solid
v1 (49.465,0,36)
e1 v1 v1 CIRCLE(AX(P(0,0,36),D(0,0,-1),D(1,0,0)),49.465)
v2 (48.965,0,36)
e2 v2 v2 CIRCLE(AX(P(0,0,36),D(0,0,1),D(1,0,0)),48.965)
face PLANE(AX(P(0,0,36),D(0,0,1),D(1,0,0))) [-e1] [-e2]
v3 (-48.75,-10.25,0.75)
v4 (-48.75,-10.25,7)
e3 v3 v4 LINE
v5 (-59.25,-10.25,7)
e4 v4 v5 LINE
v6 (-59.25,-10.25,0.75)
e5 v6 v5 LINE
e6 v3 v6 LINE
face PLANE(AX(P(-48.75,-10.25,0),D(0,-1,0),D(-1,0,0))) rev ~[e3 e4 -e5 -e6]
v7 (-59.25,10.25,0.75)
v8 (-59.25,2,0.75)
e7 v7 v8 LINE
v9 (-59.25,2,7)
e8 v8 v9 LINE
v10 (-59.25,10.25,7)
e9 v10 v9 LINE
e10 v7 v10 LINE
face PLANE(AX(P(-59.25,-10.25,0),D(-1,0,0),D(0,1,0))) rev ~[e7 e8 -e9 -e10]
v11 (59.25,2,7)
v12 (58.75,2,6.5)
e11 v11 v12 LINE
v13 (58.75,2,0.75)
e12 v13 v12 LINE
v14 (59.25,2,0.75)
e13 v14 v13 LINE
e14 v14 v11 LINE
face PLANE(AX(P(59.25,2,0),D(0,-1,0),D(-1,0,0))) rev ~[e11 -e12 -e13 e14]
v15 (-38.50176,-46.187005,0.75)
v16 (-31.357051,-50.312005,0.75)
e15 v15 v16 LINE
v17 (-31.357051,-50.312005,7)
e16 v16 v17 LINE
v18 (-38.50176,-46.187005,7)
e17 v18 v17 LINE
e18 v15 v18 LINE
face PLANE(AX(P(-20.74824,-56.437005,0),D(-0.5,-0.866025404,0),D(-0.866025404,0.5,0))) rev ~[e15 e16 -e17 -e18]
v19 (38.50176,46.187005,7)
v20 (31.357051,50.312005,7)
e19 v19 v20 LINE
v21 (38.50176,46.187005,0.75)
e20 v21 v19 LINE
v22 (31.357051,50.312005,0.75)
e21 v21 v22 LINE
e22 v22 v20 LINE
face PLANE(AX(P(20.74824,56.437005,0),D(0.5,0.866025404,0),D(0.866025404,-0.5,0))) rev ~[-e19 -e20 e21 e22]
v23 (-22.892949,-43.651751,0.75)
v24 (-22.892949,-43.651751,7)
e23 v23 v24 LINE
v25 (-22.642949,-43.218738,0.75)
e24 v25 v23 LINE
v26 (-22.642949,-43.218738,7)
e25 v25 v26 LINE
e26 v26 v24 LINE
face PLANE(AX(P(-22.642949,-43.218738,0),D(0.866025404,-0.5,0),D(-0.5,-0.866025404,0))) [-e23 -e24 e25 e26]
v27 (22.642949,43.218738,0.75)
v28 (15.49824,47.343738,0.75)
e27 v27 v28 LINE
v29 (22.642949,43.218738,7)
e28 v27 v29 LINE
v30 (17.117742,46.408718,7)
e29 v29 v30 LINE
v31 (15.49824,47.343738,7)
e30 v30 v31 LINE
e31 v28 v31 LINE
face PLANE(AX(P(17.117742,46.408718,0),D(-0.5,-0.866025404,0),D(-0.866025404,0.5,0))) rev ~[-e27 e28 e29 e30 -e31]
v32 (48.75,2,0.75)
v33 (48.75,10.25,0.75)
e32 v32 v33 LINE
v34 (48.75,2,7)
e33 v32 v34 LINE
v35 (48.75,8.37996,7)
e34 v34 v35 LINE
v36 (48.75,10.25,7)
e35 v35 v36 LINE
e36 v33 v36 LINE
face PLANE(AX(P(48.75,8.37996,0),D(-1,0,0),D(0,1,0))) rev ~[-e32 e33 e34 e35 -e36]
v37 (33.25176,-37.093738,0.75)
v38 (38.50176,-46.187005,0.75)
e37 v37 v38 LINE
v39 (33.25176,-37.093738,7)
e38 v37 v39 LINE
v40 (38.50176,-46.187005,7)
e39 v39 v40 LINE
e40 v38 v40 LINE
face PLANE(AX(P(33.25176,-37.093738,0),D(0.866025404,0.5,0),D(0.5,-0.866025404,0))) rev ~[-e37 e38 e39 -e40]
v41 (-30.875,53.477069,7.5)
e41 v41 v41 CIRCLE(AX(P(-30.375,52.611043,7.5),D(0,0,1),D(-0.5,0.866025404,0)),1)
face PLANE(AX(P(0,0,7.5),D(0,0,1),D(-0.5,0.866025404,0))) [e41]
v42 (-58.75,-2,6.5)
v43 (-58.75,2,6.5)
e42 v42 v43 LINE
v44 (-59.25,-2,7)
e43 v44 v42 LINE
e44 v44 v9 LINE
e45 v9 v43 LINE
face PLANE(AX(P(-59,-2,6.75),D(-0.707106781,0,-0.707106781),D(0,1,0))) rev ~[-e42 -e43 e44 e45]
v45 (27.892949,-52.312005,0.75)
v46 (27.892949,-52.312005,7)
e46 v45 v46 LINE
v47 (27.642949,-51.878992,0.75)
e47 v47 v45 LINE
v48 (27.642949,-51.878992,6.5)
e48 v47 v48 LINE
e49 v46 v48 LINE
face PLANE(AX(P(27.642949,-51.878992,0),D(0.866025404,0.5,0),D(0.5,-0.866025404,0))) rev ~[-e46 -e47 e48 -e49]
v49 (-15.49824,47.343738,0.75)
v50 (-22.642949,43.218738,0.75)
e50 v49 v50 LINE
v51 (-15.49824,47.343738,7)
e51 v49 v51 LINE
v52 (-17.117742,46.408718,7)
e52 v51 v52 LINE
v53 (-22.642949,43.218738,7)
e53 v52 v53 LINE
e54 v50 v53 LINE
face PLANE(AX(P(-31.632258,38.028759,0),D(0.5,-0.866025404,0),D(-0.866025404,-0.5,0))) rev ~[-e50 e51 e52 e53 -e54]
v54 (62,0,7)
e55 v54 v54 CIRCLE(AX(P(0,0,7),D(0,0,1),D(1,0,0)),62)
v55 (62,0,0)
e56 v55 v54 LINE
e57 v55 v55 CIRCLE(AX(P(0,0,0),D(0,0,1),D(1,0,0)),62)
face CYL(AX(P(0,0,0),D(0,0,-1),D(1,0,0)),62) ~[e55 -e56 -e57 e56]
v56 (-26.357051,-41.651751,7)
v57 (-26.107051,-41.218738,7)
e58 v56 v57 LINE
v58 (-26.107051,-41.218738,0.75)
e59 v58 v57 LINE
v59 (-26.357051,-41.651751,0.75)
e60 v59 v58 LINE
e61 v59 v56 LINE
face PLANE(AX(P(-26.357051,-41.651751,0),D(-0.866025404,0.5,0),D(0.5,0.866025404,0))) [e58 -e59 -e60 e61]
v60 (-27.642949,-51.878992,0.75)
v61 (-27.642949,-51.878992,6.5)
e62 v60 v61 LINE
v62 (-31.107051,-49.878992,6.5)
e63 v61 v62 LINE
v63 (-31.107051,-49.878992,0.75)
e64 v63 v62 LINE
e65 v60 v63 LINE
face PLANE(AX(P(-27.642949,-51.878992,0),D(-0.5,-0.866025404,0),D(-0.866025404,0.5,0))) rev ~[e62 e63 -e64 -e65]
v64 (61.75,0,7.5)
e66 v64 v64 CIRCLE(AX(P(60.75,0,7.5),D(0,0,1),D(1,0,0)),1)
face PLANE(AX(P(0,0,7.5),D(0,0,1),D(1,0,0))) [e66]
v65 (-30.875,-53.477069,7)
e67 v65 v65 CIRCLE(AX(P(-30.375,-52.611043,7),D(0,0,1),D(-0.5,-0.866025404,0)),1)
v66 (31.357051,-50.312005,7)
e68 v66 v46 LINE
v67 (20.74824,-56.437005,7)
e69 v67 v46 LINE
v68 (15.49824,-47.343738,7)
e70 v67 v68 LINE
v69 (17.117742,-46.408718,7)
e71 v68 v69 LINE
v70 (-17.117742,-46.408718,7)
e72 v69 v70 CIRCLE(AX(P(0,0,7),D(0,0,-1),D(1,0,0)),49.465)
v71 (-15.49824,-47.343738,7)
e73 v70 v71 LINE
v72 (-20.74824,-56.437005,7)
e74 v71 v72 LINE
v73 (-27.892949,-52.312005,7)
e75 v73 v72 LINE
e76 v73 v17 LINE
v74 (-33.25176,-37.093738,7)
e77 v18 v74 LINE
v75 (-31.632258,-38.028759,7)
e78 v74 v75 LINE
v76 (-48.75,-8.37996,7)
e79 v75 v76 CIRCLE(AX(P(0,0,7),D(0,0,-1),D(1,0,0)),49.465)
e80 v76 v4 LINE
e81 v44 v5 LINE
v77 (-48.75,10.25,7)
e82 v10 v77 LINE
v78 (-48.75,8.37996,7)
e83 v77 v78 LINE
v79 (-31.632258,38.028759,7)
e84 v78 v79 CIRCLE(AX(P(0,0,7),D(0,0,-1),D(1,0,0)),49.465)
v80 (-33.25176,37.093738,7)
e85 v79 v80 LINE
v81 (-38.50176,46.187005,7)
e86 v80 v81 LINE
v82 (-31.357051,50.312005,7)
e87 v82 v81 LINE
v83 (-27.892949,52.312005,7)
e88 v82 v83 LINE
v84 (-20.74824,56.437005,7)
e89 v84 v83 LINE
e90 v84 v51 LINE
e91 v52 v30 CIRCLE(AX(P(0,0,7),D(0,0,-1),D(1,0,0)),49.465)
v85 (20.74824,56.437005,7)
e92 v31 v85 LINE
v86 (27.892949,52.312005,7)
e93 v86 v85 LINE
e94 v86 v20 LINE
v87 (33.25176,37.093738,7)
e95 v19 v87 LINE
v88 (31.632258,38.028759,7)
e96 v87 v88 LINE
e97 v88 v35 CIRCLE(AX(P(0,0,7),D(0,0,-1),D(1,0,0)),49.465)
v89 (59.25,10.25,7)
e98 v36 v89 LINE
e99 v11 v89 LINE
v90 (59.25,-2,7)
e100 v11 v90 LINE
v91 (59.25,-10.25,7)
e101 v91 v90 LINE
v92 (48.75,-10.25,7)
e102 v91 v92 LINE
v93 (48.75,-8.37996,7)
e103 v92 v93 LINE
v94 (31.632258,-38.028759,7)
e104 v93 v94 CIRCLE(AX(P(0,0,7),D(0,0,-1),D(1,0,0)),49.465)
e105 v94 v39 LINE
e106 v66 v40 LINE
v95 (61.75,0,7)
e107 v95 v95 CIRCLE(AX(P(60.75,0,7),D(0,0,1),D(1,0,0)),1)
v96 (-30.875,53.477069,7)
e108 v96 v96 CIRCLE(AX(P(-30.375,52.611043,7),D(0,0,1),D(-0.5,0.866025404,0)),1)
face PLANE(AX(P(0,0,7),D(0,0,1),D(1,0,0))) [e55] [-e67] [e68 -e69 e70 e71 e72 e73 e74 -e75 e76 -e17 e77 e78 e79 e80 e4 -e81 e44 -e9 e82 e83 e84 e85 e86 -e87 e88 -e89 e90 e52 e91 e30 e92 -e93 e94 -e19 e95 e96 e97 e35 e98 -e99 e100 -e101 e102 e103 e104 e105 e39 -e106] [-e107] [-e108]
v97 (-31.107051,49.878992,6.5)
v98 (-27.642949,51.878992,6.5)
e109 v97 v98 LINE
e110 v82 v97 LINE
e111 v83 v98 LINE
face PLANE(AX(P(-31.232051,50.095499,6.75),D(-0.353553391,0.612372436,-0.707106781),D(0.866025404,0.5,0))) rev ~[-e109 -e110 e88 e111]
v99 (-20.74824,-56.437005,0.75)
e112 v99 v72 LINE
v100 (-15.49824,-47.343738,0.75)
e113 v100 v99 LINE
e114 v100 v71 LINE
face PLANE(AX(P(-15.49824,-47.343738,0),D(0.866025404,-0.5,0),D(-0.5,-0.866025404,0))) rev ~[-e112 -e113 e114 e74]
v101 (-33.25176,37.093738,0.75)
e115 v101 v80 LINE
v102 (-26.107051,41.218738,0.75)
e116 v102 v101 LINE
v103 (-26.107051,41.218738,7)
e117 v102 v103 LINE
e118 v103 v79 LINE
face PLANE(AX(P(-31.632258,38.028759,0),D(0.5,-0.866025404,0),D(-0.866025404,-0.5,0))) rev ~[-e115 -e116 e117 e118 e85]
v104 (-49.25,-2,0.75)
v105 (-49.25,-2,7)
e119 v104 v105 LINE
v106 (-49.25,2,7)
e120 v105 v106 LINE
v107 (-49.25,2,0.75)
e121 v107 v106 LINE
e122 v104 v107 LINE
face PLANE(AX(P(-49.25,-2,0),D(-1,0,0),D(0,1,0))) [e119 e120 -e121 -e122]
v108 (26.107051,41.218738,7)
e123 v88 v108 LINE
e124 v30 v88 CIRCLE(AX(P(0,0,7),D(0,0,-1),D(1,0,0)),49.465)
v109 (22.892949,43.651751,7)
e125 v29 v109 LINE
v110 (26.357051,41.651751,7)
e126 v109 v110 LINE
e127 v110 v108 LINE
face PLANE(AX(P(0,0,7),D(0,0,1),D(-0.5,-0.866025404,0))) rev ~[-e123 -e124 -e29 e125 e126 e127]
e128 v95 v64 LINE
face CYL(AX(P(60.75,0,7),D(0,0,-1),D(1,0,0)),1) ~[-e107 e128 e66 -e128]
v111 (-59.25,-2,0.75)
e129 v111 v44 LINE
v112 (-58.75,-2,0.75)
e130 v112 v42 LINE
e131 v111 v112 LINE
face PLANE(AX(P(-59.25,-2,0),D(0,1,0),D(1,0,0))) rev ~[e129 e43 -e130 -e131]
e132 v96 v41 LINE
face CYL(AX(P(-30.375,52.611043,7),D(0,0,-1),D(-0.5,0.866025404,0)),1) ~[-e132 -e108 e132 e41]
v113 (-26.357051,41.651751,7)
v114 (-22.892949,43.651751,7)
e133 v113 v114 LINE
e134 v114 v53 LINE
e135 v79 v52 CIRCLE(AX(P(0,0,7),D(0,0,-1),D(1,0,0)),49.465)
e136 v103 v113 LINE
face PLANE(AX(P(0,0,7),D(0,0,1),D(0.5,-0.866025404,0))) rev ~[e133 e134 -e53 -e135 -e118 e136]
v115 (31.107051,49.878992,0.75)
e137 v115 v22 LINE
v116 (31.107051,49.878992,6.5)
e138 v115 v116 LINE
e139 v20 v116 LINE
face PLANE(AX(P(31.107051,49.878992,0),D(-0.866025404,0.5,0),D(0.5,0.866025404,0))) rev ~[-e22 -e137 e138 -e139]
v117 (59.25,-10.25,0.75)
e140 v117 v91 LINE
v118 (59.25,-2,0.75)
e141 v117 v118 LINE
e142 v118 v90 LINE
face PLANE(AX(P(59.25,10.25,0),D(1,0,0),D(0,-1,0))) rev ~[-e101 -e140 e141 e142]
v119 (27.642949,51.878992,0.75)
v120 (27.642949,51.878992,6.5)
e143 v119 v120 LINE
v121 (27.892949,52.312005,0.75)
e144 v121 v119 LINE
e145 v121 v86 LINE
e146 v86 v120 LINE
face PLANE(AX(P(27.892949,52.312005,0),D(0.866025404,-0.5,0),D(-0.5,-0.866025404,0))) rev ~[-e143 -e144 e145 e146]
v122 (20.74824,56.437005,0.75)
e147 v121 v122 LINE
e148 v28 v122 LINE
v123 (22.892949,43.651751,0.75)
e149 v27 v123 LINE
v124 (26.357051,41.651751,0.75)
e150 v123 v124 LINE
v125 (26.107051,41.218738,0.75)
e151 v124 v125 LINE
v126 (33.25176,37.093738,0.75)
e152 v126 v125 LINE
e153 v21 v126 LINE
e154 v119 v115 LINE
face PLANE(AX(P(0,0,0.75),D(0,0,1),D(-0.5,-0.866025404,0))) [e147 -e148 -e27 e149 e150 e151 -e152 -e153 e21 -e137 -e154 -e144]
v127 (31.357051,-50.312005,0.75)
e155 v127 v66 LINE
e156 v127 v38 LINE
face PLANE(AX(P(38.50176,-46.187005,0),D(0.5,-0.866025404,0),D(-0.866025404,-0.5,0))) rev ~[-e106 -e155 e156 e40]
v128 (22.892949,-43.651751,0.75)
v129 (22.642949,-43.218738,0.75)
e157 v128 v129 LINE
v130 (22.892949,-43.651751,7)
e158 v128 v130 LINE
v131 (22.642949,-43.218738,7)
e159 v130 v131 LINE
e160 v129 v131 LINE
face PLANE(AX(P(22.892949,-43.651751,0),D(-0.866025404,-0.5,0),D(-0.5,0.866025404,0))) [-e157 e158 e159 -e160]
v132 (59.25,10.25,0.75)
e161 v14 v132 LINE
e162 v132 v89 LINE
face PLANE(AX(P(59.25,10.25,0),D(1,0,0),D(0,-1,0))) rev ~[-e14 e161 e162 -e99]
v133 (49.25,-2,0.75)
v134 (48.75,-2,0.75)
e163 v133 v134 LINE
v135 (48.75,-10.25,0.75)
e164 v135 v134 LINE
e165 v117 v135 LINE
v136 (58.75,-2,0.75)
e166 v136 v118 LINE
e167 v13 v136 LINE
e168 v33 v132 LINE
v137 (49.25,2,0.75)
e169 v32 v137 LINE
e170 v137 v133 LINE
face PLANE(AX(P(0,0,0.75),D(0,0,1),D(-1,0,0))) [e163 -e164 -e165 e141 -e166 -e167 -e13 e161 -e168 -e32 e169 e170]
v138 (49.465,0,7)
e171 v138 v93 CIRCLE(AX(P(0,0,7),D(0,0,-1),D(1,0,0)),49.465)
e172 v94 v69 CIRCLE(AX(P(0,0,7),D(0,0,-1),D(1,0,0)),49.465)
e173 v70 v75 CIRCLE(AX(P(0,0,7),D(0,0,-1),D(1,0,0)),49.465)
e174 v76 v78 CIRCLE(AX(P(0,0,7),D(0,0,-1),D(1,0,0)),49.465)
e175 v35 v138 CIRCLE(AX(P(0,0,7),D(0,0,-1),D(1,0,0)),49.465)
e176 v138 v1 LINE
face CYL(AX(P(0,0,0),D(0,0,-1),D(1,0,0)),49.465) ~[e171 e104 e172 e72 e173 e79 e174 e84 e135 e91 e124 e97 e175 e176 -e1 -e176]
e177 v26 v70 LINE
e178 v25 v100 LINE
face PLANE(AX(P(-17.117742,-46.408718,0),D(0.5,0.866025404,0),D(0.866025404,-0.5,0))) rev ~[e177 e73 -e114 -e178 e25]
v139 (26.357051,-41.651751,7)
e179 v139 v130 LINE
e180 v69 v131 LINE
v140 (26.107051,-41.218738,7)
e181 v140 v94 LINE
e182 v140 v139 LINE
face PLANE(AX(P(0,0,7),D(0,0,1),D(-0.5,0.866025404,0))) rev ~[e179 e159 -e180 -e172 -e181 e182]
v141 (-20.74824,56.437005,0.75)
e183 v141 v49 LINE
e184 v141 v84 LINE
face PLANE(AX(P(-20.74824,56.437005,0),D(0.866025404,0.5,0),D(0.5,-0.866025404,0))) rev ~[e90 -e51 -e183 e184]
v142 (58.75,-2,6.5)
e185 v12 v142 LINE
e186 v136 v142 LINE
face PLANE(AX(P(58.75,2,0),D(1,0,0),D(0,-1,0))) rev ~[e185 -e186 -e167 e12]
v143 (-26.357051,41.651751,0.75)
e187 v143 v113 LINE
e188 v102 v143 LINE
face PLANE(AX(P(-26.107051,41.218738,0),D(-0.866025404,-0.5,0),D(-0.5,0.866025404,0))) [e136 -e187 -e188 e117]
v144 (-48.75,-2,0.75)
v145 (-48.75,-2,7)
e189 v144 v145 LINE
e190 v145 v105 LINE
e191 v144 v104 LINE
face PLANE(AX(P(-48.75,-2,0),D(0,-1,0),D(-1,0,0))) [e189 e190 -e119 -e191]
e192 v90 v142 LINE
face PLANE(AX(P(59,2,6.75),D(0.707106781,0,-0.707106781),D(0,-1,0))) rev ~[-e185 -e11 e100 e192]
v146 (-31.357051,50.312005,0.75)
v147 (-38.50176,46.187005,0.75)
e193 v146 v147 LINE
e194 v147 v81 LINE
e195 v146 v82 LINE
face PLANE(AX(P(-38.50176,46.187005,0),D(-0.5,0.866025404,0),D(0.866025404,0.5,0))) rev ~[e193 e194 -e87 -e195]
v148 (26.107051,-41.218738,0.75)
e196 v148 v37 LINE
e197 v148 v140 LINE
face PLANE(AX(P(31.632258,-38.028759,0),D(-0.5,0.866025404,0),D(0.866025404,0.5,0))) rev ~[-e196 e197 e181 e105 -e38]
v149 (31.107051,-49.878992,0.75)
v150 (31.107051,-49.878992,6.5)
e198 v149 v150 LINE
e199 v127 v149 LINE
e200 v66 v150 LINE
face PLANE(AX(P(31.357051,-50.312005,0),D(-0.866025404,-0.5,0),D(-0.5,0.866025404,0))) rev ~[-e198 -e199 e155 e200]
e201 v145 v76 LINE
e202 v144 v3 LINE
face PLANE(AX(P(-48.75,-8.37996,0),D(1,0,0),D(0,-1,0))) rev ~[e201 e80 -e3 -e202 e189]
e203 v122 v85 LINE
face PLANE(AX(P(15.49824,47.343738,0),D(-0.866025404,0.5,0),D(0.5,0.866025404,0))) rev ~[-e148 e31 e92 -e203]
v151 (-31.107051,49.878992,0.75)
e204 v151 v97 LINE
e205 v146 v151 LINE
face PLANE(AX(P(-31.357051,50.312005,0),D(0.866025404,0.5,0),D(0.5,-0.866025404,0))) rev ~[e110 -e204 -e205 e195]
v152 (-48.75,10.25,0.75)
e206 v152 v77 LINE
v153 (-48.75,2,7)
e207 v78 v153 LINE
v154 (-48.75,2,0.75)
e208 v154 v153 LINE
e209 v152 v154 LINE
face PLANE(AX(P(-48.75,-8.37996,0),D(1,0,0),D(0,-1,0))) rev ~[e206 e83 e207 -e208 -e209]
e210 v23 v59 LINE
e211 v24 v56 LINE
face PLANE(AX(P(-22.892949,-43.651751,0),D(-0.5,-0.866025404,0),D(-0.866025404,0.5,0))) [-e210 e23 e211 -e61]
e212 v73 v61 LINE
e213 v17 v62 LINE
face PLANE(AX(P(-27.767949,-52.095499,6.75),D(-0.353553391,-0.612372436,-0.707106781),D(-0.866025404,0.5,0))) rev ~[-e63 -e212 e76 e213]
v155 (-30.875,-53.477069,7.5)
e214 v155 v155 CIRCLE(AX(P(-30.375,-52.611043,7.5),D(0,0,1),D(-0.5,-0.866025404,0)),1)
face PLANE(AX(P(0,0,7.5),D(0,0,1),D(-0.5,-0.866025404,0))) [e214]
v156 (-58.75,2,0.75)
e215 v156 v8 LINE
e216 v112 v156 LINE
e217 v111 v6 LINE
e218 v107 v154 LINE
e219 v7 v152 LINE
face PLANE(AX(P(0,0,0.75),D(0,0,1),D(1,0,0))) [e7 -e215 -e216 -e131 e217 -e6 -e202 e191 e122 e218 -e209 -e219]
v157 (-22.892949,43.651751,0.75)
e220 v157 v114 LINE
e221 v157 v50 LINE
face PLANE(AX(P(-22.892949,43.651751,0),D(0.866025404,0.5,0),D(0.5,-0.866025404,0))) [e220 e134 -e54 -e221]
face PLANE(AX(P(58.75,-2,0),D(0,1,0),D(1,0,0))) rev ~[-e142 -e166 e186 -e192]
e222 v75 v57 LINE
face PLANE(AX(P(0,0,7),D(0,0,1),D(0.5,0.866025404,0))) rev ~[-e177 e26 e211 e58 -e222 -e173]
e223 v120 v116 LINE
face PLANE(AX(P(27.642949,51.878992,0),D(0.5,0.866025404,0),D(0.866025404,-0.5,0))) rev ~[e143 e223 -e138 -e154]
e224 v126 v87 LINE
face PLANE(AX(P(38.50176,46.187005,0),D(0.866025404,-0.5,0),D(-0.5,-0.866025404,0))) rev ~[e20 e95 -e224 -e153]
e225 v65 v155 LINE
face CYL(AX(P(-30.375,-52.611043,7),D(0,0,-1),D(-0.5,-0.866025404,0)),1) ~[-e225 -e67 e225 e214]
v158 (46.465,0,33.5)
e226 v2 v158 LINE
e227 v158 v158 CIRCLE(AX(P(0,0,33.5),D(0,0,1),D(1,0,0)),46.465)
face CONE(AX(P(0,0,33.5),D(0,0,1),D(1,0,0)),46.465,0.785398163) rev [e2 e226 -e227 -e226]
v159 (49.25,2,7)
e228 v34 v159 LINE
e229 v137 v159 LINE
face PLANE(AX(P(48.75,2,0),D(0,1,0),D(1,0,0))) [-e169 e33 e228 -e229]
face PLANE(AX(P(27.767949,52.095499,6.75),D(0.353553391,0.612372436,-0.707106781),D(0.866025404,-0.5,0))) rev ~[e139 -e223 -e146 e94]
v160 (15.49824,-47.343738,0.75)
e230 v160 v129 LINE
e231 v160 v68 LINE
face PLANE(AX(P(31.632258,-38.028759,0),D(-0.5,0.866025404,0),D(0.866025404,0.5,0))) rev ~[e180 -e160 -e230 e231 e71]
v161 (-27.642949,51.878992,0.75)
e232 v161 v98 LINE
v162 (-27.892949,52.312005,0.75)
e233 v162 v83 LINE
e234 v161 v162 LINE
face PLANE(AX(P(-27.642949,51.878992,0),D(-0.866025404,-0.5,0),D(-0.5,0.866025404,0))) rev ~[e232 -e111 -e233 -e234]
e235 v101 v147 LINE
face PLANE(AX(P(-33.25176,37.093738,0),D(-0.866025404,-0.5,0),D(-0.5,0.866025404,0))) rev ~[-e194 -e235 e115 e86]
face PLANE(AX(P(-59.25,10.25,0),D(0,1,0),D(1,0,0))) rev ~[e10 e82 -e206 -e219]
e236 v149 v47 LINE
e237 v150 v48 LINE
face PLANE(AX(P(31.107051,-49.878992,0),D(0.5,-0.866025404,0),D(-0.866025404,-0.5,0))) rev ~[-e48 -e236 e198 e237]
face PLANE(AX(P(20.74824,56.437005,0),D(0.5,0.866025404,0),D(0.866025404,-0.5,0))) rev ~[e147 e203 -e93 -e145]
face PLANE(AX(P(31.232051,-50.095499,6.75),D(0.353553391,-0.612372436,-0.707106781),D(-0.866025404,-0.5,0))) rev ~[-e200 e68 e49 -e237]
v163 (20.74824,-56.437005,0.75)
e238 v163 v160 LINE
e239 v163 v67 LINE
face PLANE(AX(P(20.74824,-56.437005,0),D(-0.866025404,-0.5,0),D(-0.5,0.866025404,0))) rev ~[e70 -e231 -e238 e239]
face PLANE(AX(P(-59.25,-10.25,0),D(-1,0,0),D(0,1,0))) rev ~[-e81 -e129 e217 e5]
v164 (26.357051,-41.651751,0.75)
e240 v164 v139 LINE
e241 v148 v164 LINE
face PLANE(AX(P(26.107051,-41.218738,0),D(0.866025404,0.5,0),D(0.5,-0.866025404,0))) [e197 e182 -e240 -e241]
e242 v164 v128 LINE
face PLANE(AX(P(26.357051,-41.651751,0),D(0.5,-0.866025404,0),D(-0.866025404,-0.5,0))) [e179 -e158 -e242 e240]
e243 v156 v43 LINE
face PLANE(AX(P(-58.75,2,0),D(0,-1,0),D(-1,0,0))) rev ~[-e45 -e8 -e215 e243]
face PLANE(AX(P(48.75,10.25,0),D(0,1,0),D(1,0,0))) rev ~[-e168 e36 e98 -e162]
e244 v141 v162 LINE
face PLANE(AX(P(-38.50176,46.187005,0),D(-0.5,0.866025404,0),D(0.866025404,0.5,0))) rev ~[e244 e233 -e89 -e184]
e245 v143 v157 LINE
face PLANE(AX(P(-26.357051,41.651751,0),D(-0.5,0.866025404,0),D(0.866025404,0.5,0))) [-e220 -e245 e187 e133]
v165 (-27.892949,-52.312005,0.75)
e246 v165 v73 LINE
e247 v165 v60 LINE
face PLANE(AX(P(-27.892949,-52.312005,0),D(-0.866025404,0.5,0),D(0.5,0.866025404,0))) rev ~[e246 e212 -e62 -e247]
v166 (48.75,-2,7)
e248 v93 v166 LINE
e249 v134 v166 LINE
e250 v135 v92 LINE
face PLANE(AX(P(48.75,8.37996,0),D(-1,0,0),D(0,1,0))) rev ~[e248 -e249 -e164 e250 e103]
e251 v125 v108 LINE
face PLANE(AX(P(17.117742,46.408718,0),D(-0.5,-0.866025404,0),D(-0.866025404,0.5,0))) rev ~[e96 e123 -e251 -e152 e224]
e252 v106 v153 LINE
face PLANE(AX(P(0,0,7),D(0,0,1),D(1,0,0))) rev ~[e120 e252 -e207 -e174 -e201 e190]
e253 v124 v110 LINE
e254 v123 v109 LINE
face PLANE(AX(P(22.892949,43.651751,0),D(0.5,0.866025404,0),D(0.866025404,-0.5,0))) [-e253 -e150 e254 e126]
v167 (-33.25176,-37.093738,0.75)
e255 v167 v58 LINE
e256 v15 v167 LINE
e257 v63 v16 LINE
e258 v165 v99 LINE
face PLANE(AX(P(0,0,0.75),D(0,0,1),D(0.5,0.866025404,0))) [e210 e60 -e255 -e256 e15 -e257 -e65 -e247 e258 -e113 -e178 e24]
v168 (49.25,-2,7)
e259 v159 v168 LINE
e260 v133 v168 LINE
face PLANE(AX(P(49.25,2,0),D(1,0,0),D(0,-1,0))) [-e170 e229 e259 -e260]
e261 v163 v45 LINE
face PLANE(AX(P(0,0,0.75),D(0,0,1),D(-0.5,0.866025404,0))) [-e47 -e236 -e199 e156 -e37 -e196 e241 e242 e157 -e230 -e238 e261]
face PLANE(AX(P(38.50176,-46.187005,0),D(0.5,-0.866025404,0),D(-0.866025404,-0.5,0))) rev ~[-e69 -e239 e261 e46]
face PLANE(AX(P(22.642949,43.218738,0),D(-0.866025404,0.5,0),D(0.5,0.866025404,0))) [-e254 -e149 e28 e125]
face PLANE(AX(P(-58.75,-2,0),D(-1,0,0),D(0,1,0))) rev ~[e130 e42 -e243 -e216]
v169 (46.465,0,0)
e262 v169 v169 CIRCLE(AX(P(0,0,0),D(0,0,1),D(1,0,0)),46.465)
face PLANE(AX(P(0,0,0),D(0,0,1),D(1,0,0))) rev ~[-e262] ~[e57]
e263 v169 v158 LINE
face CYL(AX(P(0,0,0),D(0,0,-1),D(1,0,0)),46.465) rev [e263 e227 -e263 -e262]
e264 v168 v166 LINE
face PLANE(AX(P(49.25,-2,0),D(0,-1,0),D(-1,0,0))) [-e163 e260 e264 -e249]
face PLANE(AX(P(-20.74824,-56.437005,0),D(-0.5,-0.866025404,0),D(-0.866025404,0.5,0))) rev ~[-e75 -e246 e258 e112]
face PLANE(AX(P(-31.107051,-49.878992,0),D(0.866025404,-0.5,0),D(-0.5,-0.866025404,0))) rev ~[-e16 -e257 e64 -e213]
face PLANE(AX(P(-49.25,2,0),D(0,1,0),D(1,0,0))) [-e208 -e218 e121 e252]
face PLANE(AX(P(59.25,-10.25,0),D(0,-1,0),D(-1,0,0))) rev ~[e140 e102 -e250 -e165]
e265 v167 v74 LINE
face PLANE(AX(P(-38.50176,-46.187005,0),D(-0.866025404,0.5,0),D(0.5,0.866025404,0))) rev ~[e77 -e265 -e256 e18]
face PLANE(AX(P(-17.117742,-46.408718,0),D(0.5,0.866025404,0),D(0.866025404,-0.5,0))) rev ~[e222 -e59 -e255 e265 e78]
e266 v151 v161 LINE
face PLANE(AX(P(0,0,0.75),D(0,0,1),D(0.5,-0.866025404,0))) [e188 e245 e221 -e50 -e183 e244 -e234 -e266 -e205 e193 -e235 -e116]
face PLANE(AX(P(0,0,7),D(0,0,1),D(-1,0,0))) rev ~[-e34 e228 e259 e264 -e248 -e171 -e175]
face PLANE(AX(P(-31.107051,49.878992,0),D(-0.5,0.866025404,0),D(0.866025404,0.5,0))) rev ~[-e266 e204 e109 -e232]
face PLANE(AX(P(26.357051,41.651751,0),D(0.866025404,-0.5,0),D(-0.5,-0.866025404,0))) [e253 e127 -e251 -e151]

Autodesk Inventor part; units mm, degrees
ref_plane "YZ Plane" through (0, 0, 0) normal (1, 0, 0) x (0, 1, 0)
ref_plane "XZ Plane" through (0, 0, 0) normal (0, 1, 0) x (-1, 0, 0)
ref_plane "XY Plane" through (0, 0, 0) normal (0, 0, 1) x (1, 0, 0)
sketch "Sketch1" plane through (0, 0, 0) normal (0, 0, 1) x (1, 0, 0)
  circle A0 centre (0, 0) radius 46.465
  line L0 (48.75, 10.25) -> (59.25, 10.25)
  line L1 (59.25, 10.25) -> (59.25, -10.25)
  line L2 (59.25, -10.25) -> (48.75, -10.25)
  line L3 (48.75, -10.25) -> (48.75, 10.25)
  circle A1 centre (0, 0) radius 62
  line L4 (59.25, 2) -> (58.75, 2)
  line L5 (58.75, 2) -> (58.75, -2)
  line L6 (58.75, -2) -> (59.25, -2)
  line L7 (59.25, -2) -> (59.25, 2)
  line L8 (54, 10.25) -> (54, -10.25)
  line L9 (48.75, 2) -> (49.25, 2)
  line L10 (49.25, 2) -> (49.25, -2)
  line L11 (49.25, -2) -> (48.75, -2)
  line L12 (48.75, -2) -> (48.75, 2)
  line L13 (27.8929, 52.312) -> (27.6429, 51.879)
  line L14 (31.1071, 49.879) -> (31.3571, 50.312)
  line L15 (31.3571, 50.312) -> (27.8929, 52.312)
  line L16 (27.6429, 51.879) -> (31.1071, 49.879)
  line L17 (22.6429, 43.2187) -> (22.8929, 43.6518)
  line L18 (22.8929, 43.6518) -> (26.3571, 41.6518)
  line L19 (26.1071, 41.2187) -> (22.6429, 43.2187)
  line L20 (26.3571, 41.6518) -> (26.1071, 41.2187)
  line L21 (33.2518, 37.0937) -> (15.4982, 47.3437)
  line L22 (38.5018, 46.187) -> (33.2518, 37.0937)
  line L23 (20.7482, 56.437) -> (38.5018, 46.187)
  line L24 (15.4982, 47.3437) -> (20.7482, 56.437)
  line L25 (-31.3571, 50.312) -> (-31.1071, 49.879)
  line L26 (-27.6429, 51.879) -> (-27.8929, 52.312)
  line L27 (-27.8929, 52.312) -> (-31.3571, 50.312)
  line L28 (-31.1071, 49.879) -> (-27.6429, 51.879)
  line L29 (-26.1071, 41.2187) -> (-26.3571, 41.6518)
  line L30 (-26.3571, 41.6518) -> (-22.8929, 43.6518)
  line L31 (-22.6429, 43.2187) -> (-26.1071, 41.2187)
  line L32 (-22.8929, 43.6518) -> (-22.6429, 43.2187)
  line L33 (-15.4982, 47.3437) -> (-33.2518, 37.0937)
  line L34 (-20.7482, 56.437) -> (-15.4982, 47.3437)
  line L35 (-38.5018, 46.187) -> (-20.7482, 56.437)
  line L36 (-33.2518, 37.0937) -> (-38.5018, 46.187)
  line L37 (-59.25, -2) -> (-58.75, -2)
  line L38 (-58.75, 2) -> (-59.25, 2)
  line L39 (-59.25, 2) -> (-59.25, -2)
  line L40 (-58.75, -2) -> (-58.75, 2)
  line L41 (-48.75, -2) -> (-49.25, -2)
  line L42 (-49.25, -2) -> (-49.25, 2)
  line L43 (-48.75, 2) -> (-48.75, -2)
  line L44 (-49.25, 2) -> (-48.75, 2)
  line L45 (-48.75, 10.25) -> (-48.75, -10.25)
  line L46 (-59.25, 10.25) -> (-48.75, 10.25)
  line L47 (-59.25, -10.25) -> (-59.25, 10.25)
  line L48 (-48.75, -10.25) -> (-59.25, -10.25)
  line L49 (-27.8929, -52.312) -> (-27.6429, -51.879)
  line L50 (-31.1071, -49.879) -> (-31.3571, -50.312)
  line L51 (-31.3571, -50.312) -> (-27.8929, -52.312)
  line L52 (-27.6429, -51.879) -> (-31.1071, -49.879)
  line L53 (-22.6429, -43.2187) -> (-22.8929, -43.6518)
  line L54 (-22.8929, -43.6518) -> (-26.3571, -41.6518)
  line L55 (-26.1071, -41.2187) -> (-22.6429, -43.2187)
  line L56 (-26.3571, -41.6518) -> (-26.1071, -41.2187)
  line L57 (-33.2518, -37.0937) -> (-15.4982, -47.3437)
  line L58 (-38.5018, -46.187) -> (-33.2518, -37.0937)
  line L59 (-20.7482, -56.437) -> (-38.5018, -46.187)
  line L60 (-15.4982, -47.3437) -> (-20.7482, -56.437)
  line L61 (31.3571, -50.312) -> (31.1071, -49.879)
  line L62 (27.6429, -51.879) -> (27.8929, -52.312)
  line L63 (27.8929, -52.312) -> (31.3571, -50.312)
  line L64 (31.1071, -49.879) -> (27.6429, -51.879)
  line L65 (26.1071, -41.2187) -> (26.3571, -41.6518)
  line L66 (26.3571, -41.6518) -> (22.8929, -43.6518)
  line L67 (22.6429, -43.2187) -> (26.1071, -41.2187)
  line L68 (22.8929, -43.6518) -> (22.6429, -43.2187)
  line L69 (15.4982, -47.3437) -> (33.2518, -37.0937)
  line L70 (20.7482, -56.437) -> (15.4982, -47.3437)
  line L71 (38.5018, -46.187) -> (20.7482, -56.437)
  line L72 (33.2518, -37.0937) -> (38.5018, -46.187)
  circle A2 centre (0, 0) radius 49.465
  point P0 (35.8768, 41.6404)
  point P1 (18.1232, 51.8904)
  point P2 (-18.1232, 51.8904)
  point P3 (-35.8768, 41.6404)
  point P4 (-54, 10.25)
  point P5 (-54, -10.25)
  point P6 (-35.8768, -41.6404)
  point P7 (-18.1232, -51.8904)
  point P8 (18.1232, -51.8904)
  point P9 (35.8768, -41.6404)
  dimension "d1" = 92.93
  dimension "d16" = 20.5
  dimension "d17" = 10.5
  dimension "d71" = 54
  dimension "d72" = 10.25
  dimension "d73" = 124
  dimension "d74" = 4
  dimension "d75" = 0.5
  dimension "d76" = 2
  dimension "d83" = 360
  dimension "d85" = 98.93
extrude "Extrusion9" add sketch "Sketch1" along normal blind 7 contours A0 | L0 L8 L2 L3 A2 | L0 L1 L4 L5 L6 L2 L8 | A2 L3 L11 L10 L9 | L3 A2 L69 L67 L57 L55 L45 L43 L33 L31 L21 L19 | L9 L10 L11 L3 | A2 L21 L24 L23 L13 L16 L14 L22 | L21 L20 L18 L17 A2 | L1 L6 L5 L4 | L19 L17 L18 L20 | A2 L69 L68 L66 L65 | L69 L72 L71 L61 L64 L62 L70 A2 | A2 L33 L36 L35 L25 L28 L26 L34 | L33 L32 L30 L29 A2 | L65 L66 L68 L67 | L14 L16 L13 L15 | L31 L29 L30 L32 | A2 L57 L56 L54 L53 | L57 L60 L59 L49 L52 L50 L58 A2 | A2 L45 L48 L47 L37 L40 L38 L46 | L45 L44 L42 L41 A2 | L63 L62 L64 L61 | L53 L54 L56 L55 | L26 L28 L25 L27 | L43 L41 L42 L44 | L51 L50 L52 L49 | L38 L40 L37 L39 | A1
extrude "Extrusion10" add sketch "Sketch1" along normal blind 36 contours A0 | A2 L3 L11 L10 L9 | L3 A2 L69 L67 L57 L55 L45 L43 L33 L31 L21 L19 | L9 L10 L11 L3 | L21 L20 L18 L17 A2 | L19 L17 L18 L20 | A2 L69 L68 L66 L65 | L33 L32 L30 L29 A2 | L65 L66 L68 L67 | L31 L29 L30 L32 | A2 L57 L56 L54 L53 | L45 L44 L42 L41 A2 | L53 L54 L56 L55 | L43 L41 L42 L44
extrude "Extrusion11" cut sketch "Sketch1" along normal blind 36 contours A0
extrude "Extrusion12" cut sketch "Sketch1" along normal blind 7 contours A2 L45 L48 L47 L37 L40 L38 L46 | L45 L44 L42 L41 A2 | L43 L41 L42 L44 | L38 L40 L37 L39
extrude "Extrusion13" add sketch "Sketch1" along normal blind 7 contours L43 L41 L42 L44 | L38 L40 L37 L39
extrude "Extrusion14" add sketch "Sketch1" along normal blind 0.75 contours A2 L45 L48 L47 L37 L40 L38 L46 | L45 L44 L42 L41 A2 | L43 L41 L42 L44 | L38 L40 L37 L39
chamfer "Chamfer4" distance 0.5 angle 45 1 edges at (-58.75, 0, 7)
pattern_circular "Circular Pattern3" count 6 over 360 about axis through (0, 0, 0) along (0, 0, 1) of "Extrusion12", "Extrusion13", "Extrusion14", "Chamfer4"
chamfer "Chamfer5" distance 2.5 angle 45 1 edges at (-46.465, 0, 36)
sketch "Sketch3" plane through (0, 0, 7) normal (0, 0, 1) x (1, 0, 0)
  circle A0 centre (60.75, 0) radius 1
  line L0 (59.25, -2) -> (59.25, 2) projected
  point P0 (0, 0)
  dimension "d107" = 2
  dimension "d108" = 1.5
extrude "Extrusion15" add sketch "Sketch3" along normal blind 0.5
pattern_circular "Circular Pattern4" count 3 over 360 about axis through (0, 0, 0) along (0, 0, 1) of "Extrusion15"
equation "\"d72\" = 0.5 * d16"
equation "\"d76\" = 0.5 * d74"
properties part number "4inchFemale"
